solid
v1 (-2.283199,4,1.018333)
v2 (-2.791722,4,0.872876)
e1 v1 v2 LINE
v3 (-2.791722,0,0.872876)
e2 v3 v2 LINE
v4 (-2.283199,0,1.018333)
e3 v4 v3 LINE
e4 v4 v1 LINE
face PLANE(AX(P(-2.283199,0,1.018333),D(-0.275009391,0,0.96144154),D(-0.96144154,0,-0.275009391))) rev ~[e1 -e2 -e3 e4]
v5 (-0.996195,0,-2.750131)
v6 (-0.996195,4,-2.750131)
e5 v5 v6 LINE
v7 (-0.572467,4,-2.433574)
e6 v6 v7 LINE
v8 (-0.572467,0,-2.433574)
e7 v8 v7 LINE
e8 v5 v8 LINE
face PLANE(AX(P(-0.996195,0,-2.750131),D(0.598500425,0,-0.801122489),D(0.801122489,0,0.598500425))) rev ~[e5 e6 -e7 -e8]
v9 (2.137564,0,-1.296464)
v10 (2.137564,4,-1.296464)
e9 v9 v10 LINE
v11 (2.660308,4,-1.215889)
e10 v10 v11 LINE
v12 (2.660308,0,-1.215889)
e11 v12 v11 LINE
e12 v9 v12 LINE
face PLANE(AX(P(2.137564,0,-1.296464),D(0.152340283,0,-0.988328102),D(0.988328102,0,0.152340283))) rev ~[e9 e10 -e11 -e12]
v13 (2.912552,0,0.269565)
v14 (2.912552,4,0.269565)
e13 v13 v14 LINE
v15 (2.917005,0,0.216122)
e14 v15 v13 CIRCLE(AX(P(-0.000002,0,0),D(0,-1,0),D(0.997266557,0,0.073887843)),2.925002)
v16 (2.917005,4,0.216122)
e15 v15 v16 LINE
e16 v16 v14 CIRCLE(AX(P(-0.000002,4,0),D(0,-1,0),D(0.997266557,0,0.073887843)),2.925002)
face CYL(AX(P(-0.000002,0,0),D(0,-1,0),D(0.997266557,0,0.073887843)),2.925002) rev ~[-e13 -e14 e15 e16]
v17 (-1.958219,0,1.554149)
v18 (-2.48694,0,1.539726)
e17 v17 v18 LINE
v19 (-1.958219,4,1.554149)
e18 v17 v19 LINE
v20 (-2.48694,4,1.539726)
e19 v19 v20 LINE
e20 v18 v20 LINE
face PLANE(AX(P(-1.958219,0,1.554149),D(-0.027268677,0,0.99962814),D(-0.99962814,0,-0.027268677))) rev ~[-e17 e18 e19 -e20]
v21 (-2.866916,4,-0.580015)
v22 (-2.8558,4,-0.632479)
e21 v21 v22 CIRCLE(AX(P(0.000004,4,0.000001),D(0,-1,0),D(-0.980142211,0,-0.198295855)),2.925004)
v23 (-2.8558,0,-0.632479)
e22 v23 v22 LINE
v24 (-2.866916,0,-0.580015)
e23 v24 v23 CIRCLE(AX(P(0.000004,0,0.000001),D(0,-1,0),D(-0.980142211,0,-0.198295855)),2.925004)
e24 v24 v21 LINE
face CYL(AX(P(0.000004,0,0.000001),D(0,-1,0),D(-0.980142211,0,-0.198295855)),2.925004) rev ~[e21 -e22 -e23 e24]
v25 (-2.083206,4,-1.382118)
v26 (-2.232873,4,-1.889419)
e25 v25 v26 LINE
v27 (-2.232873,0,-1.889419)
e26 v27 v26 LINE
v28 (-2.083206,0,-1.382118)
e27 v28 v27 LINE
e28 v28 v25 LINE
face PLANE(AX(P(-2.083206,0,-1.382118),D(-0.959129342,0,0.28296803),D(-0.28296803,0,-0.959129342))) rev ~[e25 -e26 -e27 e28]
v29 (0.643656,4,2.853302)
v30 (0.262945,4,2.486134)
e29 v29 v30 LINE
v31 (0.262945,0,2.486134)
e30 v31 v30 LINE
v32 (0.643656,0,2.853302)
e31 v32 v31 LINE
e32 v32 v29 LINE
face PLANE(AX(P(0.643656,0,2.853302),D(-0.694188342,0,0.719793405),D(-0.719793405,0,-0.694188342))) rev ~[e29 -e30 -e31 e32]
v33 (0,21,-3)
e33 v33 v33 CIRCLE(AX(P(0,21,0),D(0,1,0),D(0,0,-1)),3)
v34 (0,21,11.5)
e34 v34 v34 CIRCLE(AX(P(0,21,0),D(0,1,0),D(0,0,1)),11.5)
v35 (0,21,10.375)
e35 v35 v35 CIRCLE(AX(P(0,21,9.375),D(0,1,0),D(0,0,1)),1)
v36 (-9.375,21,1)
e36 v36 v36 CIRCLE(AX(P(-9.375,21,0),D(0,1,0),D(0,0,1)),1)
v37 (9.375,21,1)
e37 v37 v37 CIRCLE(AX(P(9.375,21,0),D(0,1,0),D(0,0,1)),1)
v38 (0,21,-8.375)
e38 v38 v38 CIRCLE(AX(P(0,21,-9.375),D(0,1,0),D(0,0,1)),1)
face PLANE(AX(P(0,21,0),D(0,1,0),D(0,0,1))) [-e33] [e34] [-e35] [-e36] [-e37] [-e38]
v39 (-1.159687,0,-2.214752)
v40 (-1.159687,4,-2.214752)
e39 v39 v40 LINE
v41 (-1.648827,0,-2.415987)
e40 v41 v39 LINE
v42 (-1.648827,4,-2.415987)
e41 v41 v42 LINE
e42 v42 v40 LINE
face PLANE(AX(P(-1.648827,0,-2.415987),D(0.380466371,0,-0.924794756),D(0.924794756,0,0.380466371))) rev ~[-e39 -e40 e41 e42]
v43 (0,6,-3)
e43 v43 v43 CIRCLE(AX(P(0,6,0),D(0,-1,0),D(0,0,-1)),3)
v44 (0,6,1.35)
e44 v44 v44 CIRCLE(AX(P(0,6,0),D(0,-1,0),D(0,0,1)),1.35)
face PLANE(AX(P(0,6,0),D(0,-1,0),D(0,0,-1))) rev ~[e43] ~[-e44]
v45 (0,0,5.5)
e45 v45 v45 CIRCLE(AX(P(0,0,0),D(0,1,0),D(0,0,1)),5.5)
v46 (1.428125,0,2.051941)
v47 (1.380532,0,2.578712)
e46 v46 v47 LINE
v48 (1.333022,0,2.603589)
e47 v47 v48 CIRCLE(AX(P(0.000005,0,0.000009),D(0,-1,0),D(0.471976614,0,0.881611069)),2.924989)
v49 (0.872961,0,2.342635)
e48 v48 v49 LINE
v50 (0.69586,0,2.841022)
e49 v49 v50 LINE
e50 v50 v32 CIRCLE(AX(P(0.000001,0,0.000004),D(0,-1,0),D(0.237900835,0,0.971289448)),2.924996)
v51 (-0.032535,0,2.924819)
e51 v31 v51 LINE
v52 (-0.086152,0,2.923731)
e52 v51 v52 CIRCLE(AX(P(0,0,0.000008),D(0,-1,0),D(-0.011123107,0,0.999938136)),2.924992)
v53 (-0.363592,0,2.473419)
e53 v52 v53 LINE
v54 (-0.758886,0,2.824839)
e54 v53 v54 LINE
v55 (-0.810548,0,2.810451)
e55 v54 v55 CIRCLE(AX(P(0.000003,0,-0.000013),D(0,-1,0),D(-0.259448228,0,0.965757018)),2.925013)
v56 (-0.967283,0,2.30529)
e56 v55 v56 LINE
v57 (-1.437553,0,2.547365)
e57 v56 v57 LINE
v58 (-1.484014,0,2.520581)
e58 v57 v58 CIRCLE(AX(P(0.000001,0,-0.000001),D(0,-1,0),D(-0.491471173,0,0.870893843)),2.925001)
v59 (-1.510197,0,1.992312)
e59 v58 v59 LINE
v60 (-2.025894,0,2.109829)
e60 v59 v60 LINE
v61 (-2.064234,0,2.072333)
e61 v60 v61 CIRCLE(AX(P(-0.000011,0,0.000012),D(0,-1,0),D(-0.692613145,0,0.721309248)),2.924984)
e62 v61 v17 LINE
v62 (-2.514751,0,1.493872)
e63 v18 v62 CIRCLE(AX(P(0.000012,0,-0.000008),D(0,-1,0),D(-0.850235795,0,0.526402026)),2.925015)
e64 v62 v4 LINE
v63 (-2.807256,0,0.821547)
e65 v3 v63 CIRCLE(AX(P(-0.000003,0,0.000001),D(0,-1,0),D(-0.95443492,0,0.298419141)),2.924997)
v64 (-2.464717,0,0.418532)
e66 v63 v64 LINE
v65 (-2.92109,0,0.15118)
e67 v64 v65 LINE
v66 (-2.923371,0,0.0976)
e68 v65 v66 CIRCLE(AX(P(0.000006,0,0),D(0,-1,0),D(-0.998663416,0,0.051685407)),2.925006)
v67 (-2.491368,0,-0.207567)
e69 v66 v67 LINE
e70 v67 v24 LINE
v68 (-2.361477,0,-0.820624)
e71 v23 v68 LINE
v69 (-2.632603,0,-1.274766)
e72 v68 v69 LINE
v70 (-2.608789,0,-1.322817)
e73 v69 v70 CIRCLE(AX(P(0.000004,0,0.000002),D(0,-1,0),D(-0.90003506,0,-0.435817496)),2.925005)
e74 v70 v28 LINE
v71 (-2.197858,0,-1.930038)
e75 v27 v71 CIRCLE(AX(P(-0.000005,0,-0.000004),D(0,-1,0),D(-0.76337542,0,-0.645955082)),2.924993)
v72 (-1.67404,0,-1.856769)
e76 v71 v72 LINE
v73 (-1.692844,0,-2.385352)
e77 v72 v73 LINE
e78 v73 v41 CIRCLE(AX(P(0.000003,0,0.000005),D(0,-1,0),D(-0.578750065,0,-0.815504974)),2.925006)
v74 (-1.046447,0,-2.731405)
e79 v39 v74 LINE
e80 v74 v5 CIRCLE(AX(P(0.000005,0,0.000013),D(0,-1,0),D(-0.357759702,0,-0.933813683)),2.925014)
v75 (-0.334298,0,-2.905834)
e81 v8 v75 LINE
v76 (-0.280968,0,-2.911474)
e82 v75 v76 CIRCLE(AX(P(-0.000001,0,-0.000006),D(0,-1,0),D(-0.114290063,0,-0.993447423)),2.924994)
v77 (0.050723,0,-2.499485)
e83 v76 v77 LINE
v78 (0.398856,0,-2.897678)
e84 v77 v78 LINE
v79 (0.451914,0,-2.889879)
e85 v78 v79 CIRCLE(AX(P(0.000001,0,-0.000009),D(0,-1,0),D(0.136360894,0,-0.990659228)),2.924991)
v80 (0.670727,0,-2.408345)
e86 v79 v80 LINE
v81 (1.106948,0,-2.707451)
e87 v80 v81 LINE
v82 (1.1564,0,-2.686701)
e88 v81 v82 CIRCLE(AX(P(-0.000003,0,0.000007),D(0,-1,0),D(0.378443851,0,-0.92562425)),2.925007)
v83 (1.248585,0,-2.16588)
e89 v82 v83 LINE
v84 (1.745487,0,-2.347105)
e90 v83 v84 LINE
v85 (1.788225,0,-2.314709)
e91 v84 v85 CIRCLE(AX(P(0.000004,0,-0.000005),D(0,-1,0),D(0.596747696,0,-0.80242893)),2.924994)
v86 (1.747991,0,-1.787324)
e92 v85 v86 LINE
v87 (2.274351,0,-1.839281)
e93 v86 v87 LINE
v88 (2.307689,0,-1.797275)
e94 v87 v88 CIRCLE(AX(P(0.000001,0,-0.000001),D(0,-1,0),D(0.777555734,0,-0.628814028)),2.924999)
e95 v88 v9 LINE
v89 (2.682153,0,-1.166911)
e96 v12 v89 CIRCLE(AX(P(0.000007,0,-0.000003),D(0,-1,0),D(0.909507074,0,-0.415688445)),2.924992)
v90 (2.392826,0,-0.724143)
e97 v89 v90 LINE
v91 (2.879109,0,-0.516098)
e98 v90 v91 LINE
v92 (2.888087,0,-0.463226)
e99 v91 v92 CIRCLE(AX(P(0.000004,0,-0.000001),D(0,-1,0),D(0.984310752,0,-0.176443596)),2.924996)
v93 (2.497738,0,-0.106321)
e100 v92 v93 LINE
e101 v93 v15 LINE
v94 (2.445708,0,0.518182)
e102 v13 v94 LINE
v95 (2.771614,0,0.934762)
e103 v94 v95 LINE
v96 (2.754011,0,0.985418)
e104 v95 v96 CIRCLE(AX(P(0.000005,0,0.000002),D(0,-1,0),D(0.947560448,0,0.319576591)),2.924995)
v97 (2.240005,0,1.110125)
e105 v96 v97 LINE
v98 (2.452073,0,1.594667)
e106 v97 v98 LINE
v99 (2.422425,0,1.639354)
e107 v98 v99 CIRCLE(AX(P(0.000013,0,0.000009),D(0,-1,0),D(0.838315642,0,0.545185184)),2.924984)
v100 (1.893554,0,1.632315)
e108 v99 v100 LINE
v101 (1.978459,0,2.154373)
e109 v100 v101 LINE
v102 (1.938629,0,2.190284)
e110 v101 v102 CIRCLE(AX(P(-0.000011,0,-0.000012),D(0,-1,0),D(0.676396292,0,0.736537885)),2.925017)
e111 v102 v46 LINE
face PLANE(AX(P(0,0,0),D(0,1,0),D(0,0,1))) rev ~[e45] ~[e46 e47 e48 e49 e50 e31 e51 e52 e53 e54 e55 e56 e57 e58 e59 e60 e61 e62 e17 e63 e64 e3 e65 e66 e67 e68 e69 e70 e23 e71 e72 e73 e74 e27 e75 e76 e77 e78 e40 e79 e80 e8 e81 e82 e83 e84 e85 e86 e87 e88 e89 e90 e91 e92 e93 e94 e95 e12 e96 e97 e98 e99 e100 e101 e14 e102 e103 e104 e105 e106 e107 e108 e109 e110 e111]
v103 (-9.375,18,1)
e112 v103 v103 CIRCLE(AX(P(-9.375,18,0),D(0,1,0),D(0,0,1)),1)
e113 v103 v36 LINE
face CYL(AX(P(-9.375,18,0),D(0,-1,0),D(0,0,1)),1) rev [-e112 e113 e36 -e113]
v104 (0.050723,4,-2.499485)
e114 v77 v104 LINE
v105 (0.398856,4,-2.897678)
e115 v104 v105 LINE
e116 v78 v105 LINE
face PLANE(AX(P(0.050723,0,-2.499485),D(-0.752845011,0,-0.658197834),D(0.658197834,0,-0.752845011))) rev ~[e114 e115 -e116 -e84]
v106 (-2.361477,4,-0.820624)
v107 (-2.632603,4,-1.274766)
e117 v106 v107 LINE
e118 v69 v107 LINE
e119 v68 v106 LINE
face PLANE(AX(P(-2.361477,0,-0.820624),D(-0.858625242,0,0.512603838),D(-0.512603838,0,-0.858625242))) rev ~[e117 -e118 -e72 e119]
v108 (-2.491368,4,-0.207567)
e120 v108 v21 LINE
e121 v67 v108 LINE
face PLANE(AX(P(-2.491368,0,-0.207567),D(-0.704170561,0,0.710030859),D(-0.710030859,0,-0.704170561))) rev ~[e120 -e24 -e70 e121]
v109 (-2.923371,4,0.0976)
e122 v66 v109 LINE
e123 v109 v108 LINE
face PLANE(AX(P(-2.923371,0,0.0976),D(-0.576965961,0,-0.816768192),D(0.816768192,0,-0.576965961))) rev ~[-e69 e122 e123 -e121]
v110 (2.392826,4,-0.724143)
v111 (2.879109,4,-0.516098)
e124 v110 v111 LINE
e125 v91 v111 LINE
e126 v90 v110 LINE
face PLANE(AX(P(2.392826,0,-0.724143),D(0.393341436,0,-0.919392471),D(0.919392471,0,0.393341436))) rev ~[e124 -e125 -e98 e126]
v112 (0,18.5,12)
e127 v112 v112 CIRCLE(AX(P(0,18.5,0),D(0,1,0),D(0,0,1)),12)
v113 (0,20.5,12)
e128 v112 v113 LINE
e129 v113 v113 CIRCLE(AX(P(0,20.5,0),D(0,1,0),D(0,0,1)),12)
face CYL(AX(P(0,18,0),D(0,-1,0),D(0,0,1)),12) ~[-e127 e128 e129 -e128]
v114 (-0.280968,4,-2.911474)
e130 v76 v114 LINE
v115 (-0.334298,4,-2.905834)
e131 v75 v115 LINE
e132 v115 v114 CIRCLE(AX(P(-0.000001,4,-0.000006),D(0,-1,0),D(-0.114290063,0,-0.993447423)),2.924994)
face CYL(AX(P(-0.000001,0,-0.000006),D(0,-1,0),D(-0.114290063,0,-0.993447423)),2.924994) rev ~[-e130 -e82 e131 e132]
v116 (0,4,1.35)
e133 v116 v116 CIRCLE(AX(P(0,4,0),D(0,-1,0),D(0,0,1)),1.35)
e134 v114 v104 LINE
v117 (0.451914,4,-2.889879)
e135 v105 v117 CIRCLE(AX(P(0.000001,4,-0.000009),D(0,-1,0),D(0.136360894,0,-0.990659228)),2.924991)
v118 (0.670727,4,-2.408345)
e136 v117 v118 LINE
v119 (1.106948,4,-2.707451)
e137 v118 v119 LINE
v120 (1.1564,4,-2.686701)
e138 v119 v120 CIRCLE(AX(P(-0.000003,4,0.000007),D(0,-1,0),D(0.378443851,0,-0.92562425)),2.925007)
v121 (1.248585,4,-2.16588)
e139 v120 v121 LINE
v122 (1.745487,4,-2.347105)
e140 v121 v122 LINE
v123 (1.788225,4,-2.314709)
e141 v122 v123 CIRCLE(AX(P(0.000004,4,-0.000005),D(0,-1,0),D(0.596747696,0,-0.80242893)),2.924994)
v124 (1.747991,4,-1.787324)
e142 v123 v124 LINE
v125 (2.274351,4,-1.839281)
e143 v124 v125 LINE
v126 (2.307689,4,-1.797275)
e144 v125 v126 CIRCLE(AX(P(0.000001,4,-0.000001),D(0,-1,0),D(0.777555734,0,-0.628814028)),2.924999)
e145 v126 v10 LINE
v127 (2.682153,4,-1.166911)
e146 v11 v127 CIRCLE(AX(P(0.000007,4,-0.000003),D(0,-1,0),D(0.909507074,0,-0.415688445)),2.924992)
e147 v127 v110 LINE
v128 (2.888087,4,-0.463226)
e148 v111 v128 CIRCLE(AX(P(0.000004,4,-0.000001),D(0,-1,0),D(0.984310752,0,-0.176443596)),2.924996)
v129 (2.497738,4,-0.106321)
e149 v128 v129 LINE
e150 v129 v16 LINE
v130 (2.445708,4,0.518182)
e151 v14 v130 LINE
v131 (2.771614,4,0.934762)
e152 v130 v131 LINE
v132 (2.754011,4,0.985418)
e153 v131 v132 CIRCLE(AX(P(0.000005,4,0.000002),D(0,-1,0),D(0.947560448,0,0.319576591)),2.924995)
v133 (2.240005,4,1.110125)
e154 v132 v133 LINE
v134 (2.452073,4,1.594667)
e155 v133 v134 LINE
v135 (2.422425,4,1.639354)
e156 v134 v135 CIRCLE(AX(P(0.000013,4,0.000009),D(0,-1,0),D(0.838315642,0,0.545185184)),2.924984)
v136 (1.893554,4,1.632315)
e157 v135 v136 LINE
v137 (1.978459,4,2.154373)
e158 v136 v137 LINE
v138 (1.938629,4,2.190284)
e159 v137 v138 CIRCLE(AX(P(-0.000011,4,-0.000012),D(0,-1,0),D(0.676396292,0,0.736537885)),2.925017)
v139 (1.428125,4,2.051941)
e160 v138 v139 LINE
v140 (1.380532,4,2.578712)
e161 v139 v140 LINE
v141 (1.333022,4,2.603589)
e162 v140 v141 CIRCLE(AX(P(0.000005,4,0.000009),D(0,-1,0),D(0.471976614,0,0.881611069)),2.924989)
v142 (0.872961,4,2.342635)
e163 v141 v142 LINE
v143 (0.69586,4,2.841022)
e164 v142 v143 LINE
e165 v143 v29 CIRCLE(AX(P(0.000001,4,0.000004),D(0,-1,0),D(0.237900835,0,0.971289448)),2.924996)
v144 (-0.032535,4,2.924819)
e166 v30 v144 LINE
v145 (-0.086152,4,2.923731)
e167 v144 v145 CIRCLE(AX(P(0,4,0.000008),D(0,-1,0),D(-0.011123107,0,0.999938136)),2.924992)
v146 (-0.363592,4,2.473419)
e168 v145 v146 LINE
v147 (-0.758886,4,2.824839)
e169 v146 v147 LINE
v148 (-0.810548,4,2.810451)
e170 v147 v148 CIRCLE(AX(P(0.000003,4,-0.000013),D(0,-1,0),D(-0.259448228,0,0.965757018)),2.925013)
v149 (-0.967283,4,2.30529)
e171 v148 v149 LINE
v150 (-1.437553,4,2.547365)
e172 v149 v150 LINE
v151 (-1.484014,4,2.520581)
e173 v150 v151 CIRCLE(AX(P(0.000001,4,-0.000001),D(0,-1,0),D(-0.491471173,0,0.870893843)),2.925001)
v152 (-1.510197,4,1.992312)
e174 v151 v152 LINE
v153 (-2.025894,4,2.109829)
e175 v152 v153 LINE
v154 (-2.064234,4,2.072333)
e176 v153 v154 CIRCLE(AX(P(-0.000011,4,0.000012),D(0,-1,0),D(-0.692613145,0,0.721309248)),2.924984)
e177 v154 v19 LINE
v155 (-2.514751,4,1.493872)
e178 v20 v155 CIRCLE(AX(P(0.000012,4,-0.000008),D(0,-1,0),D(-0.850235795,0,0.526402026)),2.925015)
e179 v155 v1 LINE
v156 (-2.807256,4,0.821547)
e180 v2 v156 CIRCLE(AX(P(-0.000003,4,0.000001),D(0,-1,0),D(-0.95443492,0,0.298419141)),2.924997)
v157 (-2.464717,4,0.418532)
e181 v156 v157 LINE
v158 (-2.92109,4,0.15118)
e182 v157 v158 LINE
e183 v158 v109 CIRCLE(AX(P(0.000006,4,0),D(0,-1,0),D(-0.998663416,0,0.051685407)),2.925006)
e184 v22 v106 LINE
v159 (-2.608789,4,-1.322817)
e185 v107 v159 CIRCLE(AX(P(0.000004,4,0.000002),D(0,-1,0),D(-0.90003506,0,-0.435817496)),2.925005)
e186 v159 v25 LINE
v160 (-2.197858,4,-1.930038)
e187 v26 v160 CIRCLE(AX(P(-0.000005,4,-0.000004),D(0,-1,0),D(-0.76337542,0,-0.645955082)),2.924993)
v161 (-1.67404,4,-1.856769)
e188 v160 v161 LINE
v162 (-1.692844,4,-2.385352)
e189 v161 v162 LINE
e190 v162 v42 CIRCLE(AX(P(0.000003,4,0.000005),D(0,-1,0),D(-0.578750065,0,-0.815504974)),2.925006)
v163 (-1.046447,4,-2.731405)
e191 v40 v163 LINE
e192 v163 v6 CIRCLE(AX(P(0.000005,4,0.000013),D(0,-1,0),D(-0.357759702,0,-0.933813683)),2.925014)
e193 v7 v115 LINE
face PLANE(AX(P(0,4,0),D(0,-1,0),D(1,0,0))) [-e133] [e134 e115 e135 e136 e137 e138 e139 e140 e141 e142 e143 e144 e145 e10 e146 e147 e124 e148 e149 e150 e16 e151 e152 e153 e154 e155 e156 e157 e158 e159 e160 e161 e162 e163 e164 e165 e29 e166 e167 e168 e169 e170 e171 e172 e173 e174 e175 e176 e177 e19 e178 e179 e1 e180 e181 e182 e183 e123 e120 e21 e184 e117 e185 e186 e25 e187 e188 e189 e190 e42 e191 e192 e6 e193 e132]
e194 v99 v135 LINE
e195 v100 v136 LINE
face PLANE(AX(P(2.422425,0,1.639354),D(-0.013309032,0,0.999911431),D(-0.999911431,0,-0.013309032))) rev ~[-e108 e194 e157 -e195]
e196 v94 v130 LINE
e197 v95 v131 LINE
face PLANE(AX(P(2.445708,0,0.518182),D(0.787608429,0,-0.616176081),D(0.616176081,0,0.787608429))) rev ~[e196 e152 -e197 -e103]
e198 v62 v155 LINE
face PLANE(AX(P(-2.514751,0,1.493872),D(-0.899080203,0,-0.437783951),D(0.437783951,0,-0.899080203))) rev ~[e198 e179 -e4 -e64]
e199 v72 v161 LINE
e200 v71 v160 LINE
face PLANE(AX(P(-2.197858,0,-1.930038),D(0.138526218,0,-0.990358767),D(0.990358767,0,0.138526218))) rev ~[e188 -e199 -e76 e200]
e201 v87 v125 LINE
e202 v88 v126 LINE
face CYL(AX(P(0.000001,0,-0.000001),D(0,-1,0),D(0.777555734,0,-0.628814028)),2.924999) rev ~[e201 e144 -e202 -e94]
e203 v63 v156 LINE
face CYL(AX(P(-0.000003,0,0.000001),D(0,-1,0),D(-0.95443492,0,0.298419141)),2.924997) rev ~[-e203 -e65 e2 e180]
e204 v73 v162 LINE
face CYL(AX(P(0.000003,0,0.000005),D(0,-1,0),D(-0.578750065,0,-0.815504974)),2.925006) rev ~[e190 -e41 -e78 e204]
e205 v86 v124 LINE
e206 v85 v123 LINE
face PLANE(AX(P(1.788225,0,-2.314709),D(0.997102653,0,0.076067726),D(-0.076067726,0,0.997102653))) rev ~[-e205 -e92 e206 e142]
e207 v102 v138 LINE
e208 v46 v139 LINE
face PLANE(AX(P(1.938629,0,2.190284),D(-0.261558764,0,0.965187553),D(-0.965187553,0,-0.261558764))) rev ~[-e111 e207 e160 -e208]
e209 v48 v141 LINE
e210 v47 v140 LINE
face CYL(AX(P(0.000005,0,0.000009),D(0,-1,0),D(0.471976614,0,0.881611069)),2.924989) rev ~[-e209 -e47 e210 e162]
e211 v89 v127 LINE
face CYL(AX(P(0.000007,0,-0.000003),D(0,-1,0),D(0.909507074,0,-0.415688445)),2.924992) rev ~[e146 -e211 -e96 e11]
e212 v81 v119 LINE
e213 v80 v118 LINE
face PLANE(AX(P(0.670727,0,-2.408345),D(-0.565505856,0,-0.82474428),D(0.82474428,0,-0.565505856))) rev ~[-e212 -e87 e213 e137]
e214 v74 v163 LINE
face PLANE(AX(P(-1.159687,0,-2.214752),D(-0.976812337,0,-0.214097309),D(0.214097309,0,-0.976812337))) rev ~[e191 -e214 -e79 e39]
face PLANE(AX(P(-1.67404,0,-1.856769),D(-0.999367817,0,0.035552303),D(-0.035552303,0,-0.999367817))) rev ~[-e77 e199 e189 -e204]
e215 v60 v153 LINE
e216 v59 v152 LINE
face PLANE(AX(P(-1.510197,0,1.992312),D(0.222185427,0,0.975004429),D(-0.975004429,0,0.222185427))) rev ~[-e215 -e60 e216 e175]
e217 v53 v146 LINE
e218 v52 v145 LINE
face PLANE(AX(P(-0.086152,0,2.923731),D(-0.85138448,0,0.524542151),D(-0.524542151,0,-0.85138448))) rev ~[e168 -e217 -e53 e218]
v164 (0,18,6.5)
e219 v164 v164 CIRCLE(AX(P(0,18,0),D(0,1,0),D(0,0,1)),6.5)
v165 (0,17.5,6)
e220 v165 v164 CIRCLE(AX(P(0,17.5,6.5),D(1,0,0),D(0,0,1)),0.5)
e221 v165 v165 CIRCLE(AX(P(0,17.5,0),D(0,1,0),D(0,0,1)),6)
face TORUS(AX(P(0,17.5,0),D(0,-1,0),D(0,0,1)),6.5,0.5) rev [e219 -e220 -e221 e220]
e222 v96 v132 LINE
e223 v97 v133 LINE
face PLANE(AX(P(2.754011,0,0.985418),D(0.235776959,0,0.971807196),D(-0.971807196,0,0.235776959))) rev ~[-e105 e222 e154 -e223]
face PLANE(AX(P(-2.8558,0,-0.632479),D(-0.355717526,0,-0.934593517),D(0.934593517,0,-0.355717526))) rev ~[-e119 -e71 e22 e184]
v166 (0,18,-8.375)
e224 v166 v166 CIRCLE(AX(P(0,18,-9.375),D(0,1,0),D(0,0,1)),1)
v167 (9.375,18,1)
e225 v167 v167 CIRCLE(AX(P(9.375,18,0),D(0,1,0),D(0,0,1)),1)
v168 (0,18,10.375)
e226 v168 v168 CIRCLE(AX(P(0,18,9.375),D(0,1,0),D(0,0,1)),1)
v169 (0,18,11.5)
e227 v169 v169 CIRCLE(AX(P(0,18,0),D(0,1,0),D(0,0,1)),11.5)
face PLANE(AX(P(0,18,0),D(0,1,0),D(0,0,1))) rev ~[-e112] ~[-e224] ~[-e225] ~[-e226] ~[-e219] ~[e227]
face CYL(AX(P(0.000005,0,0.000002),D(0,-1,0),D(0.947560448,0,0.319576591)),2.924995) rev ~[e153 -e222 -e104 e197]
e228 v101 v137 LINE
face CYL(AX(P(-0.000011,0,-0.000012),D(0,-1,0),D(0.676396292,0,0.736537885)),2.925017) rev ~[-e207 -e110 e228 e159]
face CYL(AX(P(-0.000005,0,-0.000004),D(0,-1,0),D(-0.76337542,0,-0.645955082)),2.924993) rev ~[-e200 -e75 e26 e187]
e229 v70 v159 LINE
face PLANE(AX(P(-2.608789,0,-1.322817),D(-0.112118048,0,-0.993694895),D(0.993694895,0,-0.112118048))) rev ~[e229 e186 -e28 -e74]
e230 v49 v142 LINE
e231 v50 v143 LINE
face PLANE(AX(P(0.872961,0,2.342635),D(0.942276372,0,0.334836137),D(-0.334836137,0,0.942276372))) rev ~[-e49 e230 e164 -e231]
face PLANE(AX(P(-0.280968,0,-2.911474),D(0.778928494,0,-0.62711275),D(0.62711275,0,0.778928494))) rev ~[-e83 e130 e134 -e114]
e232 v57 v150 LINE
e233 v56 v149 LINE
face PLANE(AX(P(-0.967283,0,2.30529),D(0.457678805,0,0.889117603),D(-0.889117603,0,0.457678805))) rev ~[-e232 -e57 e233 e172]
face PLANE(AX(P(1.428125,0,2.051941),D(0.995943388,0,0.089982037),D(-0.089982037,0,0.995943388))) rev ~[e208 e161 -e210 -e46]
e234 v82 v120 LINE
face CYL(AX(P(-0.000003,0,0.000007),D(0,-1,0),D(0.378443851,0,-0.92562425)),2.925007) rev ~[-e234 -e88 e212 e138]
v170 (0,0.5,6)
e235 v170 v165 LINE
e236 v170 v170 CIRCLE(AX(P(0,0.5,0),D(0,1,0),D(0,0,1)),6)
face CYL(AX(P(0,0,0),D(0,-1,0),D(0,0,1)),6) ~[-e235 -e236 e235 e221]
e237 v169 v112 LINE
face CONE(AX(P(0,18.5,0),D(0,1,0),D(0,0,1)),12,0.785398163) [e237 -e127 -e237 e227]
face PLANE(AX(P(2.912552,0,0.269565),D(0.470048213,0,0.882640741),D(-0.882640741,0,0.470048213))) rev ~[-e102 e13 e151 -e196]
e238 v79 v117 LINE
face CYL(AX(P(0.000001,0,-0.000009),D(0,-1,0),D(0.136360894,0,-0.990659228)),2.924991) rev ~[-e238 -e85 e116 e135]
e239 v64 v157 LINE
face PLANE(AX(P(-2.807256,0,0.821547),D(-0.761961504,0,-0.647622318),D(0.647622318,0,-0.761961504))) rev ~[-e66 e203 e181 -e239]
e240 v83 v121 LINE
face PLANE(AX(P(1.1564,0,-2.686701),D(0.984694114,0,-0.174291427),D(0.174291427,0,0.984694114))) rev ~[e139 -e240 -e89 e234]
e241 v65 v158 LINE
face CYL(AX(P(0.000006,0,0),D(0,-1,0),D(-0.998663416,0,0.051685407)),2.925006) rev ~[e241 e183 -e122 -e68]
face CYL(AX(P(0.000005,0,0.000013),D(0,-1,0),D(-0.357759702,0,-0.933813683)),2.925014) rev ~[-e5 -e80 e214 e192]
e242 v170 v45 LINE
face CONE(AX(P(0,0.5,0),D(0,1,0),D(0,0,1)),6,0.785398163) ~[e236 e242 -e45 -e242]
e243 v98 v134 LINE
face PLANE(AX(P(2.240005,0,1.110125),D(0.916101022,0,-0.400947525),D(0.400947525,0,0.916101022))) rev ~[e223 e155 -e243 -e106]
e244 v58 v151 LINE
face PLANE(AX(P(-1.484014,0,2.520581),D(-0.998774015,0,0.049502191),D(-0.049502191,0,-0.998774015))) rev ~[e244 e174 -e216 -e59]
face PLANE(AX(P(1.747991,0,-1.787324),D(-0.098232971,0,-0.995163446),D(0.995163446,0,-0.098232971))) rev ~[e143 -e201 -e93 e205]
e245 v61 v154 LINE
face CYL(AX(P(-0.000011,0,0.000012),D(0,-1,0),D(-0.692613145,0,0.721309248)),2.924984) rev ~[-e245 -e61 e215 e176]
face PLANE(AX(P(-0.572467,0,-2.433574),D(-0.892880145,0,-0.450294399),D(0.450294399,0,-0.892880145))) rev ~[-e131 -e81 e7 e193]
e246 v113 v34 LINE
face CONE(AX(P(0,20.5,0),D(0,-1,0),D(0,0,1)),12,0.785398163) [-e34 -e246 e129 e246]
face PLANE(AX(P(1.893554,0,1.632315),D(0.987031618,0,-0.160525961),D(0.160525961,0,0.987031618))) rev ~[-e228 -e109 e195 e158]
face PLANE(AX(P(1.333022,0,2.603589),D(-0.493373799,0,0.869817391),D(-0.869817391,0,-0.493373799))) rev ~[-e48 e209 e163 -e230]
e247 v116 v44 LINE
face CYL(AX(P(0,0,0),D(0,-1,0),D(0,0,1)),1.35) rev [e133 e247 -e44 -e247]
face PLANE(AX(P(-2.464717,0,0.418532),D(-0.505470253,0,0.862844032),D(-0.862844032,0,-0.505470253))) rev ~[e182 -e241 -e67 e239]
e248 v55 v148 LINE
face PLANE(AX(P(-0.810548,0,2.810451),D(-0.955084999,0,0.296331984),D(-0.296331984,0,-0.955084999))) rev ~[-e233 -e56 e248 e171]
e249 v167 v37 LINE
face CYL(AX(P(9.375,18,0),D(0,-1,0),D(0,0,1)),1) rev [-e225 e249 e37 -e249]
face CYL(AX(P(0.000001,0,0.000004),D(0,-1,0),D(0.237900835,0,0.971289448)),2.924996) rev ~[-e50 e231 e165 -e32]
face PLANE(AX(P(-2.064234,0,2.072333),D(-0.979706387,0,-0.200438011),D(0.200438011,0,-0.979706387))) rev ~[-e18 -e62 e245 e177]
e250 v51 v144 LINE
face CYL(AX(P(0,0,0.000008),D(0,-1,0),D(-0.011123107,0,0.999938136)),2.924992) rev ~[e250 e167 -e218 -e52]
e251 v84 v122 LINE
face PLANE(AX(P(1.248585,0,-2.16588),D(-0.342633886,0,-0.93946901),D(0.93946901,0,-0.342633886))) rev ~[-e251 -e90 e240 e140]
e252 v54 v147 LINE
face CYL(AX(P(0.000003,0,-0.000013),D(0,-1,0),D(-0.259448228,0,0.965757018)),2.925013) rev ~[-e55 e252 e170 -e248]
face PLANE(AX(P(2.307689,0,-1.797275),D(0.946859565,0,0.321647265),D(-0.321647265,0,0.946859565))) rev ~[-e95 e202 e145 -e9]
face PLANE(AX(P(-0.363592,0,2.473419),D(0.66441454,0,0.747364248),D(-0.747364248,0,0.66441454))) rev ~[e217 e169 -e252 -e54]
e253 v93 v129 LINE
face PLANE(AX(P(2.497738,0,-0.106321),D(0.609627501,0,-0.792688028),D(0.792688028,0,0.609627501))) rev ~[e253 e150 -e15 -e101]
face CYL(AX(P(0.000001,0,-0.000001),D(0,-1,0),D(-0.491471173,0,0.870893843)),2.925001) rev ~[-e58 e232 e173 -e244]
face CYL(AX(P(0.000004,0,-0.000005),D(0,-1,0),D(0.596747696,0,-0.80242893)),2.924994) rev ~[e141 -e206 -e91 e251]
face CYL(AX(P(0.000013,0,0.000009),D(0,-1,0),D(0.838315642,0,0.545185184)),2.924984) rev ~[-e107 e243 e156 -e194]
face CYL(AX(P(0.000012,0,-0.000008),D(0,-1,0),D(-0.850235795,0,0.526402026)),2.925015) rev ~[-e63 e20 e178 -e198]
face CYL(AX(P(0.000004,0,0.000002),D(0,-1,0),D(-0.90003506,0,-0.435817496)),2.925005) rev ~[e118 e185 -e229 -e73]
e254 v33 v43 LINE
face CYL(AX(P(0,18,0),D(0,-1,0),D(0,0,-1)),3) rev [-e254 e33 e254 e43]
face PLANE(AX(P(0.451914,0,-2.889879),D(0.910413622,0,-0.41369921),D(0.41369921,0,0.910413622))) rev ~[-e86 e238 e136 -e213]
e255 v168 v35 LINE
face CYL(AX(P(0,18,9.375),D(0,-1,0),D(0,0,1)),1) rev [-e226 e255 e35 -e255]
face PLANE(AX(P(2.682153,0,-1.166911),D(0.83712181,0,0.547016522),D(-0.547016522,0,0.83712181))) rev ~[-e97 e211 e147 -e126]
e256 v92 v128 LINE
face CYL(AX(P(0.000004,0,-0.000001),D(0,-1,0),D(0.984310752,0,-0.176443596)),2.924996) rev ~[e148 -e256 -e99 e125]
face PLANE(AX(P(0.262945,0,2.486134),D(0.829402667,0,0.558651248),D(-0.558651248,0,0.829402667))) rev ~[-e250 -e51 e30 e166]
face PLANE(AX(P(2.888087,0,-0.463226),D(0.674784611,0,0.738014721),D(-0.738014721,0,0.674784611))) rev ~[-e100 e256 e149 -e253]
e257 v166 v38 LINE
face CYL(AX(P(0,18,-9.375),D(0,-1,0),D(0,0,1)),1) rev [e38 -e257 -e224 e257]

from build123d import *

# Parameters (mm, degrees)
SKETCH1_R                            = 6
SKETCH1_R_2                          = 1.35
EIXO_DEPTH                           = 18
SKETCH2_R                            = 1.5
REBAIXO_DE_ENCAIXE_NO_SERVO_DEPTH    = 4
REBAIXO_START                        = -2
SKETCH3_R                            = 3
REBAIXO_DE_ENCAIXE_DO_PARAFUSO_DEPTH = 15.370705544
SKETCH4_R                            = 12
SKETCH4_R_2                          = 3
SKETCH4_R_3                          = 1
CORPO_DE_FIXA_O_NO_ANTEBRA_O_DEPTH   = 3
RAIO_DE_AL_VIO_0_5MM_R               = 0.5
CHANFROS_0_5MM_SIZE                  = 0.5
ENCAIXE_DA_ENGRENAGEM_DO_SERVO_DEPTH = 4


with BuildPart() as part:
    # Sketch1 → Eixo (new body)
    with BuildSketch(Plane(origin=(0, 0, 0), x_dir=(1, 0, 0), z_dir=(0, 1, 0))):
        with Locations(Location((0, 0, 0), (0, 0, 270))):
            Circle(SKETCH1_R)
        with Locations(Location((0, 0, 0), (0, 0, 270))):
            Circle(SKETCH1_R_2, mode=Mode.SUBTRACT)
    extrude(amount=EIXO_DEPTH)

    # Sketch2 → Rebaixo de Encaixe no Servo (cut)
    with BuildSketch(Plane.XZ):
        with Locations(Location((0, 0, 0), (0, 0, 270))):
            Circle(SKETCH2_R)
    extrude(amount=-REBAIXO_DE_ENCAIXE_NO_SERVO_DEPTH, mode=Mode.SUBTRACT)

    # Sketch3 → Rebaixo de Encaixe do Parafuso (cut, through all)
    with BuildSketch(Plane.XZ.offset(-4).offset(REBAIXO_START)):
        with Locations(Location((0, 0, 0), (0, 0, 270))):
            Circle(SKETCH3_R)
    extrude(amount=-REBAIXO_DE_ENCAIXE_DO_PARAFUSO_DEPTH, mode=Mode.SUBTRACT)

    # Sketch4 → Corpo de Fixação no Antebraço (add)
    with BuildSketch(Plane(origin=(0, 18, 0), x_dir=(1, 0, 0), z_dir=(0, 1, 0))):
        with Locations(Location((0, 0, 0), (0, 0, 270))):
            Circle(SKETCH4_R)
        with Locations(Location((0, 0, 0), (0, 0, 90))):
            Circle(SKETCH4_R_2, mode=Mode.SUBTRACT)
        with Locations(Location((0, 9.375, 0), (0, 0, 270))):
            Circle(SKETCH4_R_3, mode=Mode.SUBTRACT)
        with Locations(Location((9.375, 0, 0), (0, 0, 270))):
            Circle(SKETCH4_R_3, mode=Mode.SUBTRACT)
        with Locations(Location((0, -9.375, 0), (0, 0, 270))):
            Circle(SKETCH4_R_3, mode=Mode.SUBTRACT)
        with Locations(Location((-9.375, 0, 0), (0, 0, 270))):
            Circle(SKETCH4_R_3, mode=Mode.SUBTRACT)
    extrude(amount=CORPO_DE_FIXA_O_NO_ANTEBRA_O_DEPTH)

    # Raio de Alívio - 0.5mm
    raio_de_al_vio_0_5mm_edges = [part.edges().sort_by_distance(p)[0] for p in [
        (0, 18, -6),
    ]]
    fillet(raio_de_al_vio_0_5mm_edges, radius=RAIO_DE_AL_VIO_0_5MM_R)

    # Chanfros 0.5mm
    chanfros_0_5mm_edges = [part.edges().sort_by_distance(p)[0] for p in [
        (0, 0, -6),
        (0, 21, -12),
        (0, 18, -12),
    ]]
    chamfer(chanfros_0_5mm_edges, length=CHANFROS_0_5MM_SIZE)

    # Sketch6 → Encaixe da Engrenagem do Servo (cut)
    with BuildSketch(Plane.XZ):
        with BuildLine():
            Line((-1.674039734, -1.856768959), (-1.692843967, -2.385352029))
            ThreePointArc((-1.692843967, -2.385352029), (-1.670905751, -2.400770495), (-1.648827112, -2.415987201))
            Line((-1.648827112, -2.415987201), (-1.159687035, -2.214751901))
            Line((-1.159687035, -2.214751901), (-1.046447234, -2.731404984))
            ThreePointArc((-1.046447234, -2.731404984), (-1.02136383, -2.740883238), (-0.996194592, -2.750131149))
            Line((-0.996194592, -2.750131149), (-0.572466934, -2.433573835))
            Line((-0.572466934, -2.433573835), (-0.334298372, -2.905833718))
            ThreePointArc((-0.334298372, -2.905833718), (-0.307645864, -2.908776207), (-0.280967502, -2.911474242))
            Line((-0.280967502, -2.911474242), (0.05072337, -2.499485375))
            Line((0.05072337, -2.499485375), (0.398855685, -2.897678233))
            ThreePointArc((0.398855685, -2.897678233), (0.425402623, -2.893900069), (0.45191381, -2.889878701))
            Line((0.45191381, -2.889878701), (0.670726538, -2.408345057))
            Line((0.670726538, -2.408345057), (1.106948173, -2.707450968))
            ThreePointArc((1.106948173, -2.707450968), (1.131721499, -2.697189546), (1.156399715, -2.686701453))
            Line((1.156399715, -2.686701453), (1.248585491, -2.165879561))
            Line((1.248585491, -2.165879561), (1.745487037, -2.3471046))
            ThreePointArc((1.745487037, -2.3471046), (1.766930151, -2.331004685), (1.788224772, -2.314708872))
            Line((1.788224772, -2.314708872), (1.747991225, -1.787323887))
            Line((1.747991225, -1.787323887), (2.27435053, -1.839281019))
            ThreePointArc((2.27435053, -1.839281019), (2.291116083, -1.818354227), (2.307689091, -1.79727462))
            Line((2.307689091, -1.79727462), (2.137564242, -1.29646408))
            Line((2.137564242, -1.29646408), (2.660308215, -1.215888647))
            ThreePointArc((2.660308215, -1.215888647), (2.671342766, -1.191449885), (2.682152817, -1.166910993))
            Line((2.682152817, -1.166910993), (2.392826237, -0.724142666))
            Line((2.392826237, -0.724142666), (2.879108951, -0.51609752))
            ThreePointArc((2.879108951, -0.51609752), (2.883719158, -0.489682365), (2.888087017, -0.463226057))
            Line((2.888087017, -0.463226057), (2.497738158, -0.106320706))
            Line((2.497738158, -0.106320706), (2.917004683, 0.216121913))
            ThreePointArc((2.917004683, 0.216121913), (2.91490087, 0.242853699), (2.912552089, 0.269565076))
            Line((2.912552089, 0.269565076), (2.445708005, 0.518181775))
            Line((2.445708005, 0.518181775), (2.771614282, 0.934761611))
            ThreePointArc((2.771614282, 0.934761611), (2.76292864, 0.960130372), (2.754010801, 0.985418444))
            Line((2.754010801, 0.985418444), (2.240005024, 1.11012499))
            Line((2.240005024, 1.11012499), (2.452073163, 1.594666799))
            ThreePointArc((2.452073163, 1.594666799), (2.437351442, 1.617078523), (2.422424885, 1.639354347))
            Line((2.422424885, 1.639354347), (1.893554289, 1.632314968))
            Line((1.893554289, 1.632314968), (1.97845927, 2.154373208))
            ThreePointArc((1.97845927, 2.154373208), (1.958626489, 2.172419682), (1.938629106, 2.190283587))
            Line((1.938629106, 2.190283587), (1.428124573, 2.051940594))
            Line((1.428124573, 2.051940594), (1.380531504, 2.578712424))
            ThreePointArc((1.380531504, 2.578712424), (1.356833831, 2.591259724), (1.333022129, 2.603589254))
            Line((1.333022129, 2.603589254), (0.872960539, 2.342635246))
            Line((0.872960539, 2.342635246), (0.695859866, 2.841021655))
            ThreePointArc((0.695859866, 2.841021655), (0.669786312, 2.847281387), (0.64365647, 2.853301833))
            Line((0.64365647, 2.853301833), (0.262945183, 2.48613351))
            Line((0.262945183, 2.48613351), (-0.032535206, 2.924819047))
            ThreePointArc((-0.032535206, 2.924819047), (-0.059346343, 2.924397889), (-0.086152492, 2.923730964))
            Line((-0.086152492, 2.923730964), (-0.363591985, 2.473418862))
            Line((-0.363591985, 2.473418862), (-0.758885972, 2.824839302))
            ThreePointArc((-0.758885972, 2.824839302), (-0.784750049, 2.817763716), (-0.810548177, 2.810451326))
            Line((-0.810548177, 2.810451326), (-0.967283332, 2.305290211))
            Line((-0.967283332, 2.305290211), (-1.437553141, 2.547364514))
            ThreePointArc((-1.437553141, 2.547364514), (-1.460845024, 2.534079086), (-1.484014138, 2.520580694))
            Line((-1.484014138, 2.520580694), (-1.51019671, 1.992311697))
            Line((-1.51019671, 1.992311697), (-2.025893559, 2.109829445))
            ThreePointArc((-2.025893559, 2.109829445), (-2.045149734, 2.091168948), (-2.064234034, 2.072332708))
            Line((-2.064234034, 2.072332708), (-1.958218874, 1.554148912))
            Line((-1.958218874, 1.554148912), (-2.486939634, 1.539726033))
            ThreePointArc((-2.486939634, 1.539726033), (-2.500950163, 1.516862973), (-2.514750513, 1.493872437))
            Line((-2.514750513, 1.493872437), (-2.283198945, 1.018333235))
            Line((-2.283198945, 1.018333235), (-2.791722146, 0.872875971))
            ThreePointArc((-2.791722146, 0.872875971), (-2.799606697, 0.84724692), (-2.807255969, 0.821546666))
            Line((-2.807255969, 0.821546666), (-2.464717229, 0.418531936))
            Line((-2.464717229, 0.418531936), (-2.921090488, 0.151179902))
            ThreePointArc((-2.921090488, 0.151179902), (-2.922353645, 0.124395226), (-2.923371208, 0.097600096))
            Line((-2.923371208, 0.097600096), (-2.491368265, -0.207567264))
            Line((-2.491368265, -0.207567264), (-2.866915971, -0.580015356))
            ThreePointArc((-2.866915971, -0.580015356), (-2.861478366, -0.606272677), (-2.855800283, -0.632479046))
            Line((-2.855800283, -0.632479046), (-2.36147747, -0.82062425))
            Line((-2.36147747, -0.82062425), (-2.632602581, -1.274766117))
            ThreePointArc((-2.632602581, -1.274766117), (-2.620805878, -1.298846238), (-2.608788923, -1.322817204))
            Line((-2.608788923, -1.322817204), (-2.083206361, -1.382118395))
            Line((-2.083206361, -1.382118395), (-2.232873088, -1.889418634))
            ThreePointArc((-2.232873088, -1.889418634), (-2.215458518, -1.909808513), (-2.19785776, -1.930037892))
            Line((-2.19785776, -1.930037892), (-1.674039734, -1.856768959))
        make_face()
    extrude(amount=-ENCAIXE_DA_ENGRENAGEM_DO_SERVO_DEPTH, mode=Mode.SUBTRACT)


solid = part.part
